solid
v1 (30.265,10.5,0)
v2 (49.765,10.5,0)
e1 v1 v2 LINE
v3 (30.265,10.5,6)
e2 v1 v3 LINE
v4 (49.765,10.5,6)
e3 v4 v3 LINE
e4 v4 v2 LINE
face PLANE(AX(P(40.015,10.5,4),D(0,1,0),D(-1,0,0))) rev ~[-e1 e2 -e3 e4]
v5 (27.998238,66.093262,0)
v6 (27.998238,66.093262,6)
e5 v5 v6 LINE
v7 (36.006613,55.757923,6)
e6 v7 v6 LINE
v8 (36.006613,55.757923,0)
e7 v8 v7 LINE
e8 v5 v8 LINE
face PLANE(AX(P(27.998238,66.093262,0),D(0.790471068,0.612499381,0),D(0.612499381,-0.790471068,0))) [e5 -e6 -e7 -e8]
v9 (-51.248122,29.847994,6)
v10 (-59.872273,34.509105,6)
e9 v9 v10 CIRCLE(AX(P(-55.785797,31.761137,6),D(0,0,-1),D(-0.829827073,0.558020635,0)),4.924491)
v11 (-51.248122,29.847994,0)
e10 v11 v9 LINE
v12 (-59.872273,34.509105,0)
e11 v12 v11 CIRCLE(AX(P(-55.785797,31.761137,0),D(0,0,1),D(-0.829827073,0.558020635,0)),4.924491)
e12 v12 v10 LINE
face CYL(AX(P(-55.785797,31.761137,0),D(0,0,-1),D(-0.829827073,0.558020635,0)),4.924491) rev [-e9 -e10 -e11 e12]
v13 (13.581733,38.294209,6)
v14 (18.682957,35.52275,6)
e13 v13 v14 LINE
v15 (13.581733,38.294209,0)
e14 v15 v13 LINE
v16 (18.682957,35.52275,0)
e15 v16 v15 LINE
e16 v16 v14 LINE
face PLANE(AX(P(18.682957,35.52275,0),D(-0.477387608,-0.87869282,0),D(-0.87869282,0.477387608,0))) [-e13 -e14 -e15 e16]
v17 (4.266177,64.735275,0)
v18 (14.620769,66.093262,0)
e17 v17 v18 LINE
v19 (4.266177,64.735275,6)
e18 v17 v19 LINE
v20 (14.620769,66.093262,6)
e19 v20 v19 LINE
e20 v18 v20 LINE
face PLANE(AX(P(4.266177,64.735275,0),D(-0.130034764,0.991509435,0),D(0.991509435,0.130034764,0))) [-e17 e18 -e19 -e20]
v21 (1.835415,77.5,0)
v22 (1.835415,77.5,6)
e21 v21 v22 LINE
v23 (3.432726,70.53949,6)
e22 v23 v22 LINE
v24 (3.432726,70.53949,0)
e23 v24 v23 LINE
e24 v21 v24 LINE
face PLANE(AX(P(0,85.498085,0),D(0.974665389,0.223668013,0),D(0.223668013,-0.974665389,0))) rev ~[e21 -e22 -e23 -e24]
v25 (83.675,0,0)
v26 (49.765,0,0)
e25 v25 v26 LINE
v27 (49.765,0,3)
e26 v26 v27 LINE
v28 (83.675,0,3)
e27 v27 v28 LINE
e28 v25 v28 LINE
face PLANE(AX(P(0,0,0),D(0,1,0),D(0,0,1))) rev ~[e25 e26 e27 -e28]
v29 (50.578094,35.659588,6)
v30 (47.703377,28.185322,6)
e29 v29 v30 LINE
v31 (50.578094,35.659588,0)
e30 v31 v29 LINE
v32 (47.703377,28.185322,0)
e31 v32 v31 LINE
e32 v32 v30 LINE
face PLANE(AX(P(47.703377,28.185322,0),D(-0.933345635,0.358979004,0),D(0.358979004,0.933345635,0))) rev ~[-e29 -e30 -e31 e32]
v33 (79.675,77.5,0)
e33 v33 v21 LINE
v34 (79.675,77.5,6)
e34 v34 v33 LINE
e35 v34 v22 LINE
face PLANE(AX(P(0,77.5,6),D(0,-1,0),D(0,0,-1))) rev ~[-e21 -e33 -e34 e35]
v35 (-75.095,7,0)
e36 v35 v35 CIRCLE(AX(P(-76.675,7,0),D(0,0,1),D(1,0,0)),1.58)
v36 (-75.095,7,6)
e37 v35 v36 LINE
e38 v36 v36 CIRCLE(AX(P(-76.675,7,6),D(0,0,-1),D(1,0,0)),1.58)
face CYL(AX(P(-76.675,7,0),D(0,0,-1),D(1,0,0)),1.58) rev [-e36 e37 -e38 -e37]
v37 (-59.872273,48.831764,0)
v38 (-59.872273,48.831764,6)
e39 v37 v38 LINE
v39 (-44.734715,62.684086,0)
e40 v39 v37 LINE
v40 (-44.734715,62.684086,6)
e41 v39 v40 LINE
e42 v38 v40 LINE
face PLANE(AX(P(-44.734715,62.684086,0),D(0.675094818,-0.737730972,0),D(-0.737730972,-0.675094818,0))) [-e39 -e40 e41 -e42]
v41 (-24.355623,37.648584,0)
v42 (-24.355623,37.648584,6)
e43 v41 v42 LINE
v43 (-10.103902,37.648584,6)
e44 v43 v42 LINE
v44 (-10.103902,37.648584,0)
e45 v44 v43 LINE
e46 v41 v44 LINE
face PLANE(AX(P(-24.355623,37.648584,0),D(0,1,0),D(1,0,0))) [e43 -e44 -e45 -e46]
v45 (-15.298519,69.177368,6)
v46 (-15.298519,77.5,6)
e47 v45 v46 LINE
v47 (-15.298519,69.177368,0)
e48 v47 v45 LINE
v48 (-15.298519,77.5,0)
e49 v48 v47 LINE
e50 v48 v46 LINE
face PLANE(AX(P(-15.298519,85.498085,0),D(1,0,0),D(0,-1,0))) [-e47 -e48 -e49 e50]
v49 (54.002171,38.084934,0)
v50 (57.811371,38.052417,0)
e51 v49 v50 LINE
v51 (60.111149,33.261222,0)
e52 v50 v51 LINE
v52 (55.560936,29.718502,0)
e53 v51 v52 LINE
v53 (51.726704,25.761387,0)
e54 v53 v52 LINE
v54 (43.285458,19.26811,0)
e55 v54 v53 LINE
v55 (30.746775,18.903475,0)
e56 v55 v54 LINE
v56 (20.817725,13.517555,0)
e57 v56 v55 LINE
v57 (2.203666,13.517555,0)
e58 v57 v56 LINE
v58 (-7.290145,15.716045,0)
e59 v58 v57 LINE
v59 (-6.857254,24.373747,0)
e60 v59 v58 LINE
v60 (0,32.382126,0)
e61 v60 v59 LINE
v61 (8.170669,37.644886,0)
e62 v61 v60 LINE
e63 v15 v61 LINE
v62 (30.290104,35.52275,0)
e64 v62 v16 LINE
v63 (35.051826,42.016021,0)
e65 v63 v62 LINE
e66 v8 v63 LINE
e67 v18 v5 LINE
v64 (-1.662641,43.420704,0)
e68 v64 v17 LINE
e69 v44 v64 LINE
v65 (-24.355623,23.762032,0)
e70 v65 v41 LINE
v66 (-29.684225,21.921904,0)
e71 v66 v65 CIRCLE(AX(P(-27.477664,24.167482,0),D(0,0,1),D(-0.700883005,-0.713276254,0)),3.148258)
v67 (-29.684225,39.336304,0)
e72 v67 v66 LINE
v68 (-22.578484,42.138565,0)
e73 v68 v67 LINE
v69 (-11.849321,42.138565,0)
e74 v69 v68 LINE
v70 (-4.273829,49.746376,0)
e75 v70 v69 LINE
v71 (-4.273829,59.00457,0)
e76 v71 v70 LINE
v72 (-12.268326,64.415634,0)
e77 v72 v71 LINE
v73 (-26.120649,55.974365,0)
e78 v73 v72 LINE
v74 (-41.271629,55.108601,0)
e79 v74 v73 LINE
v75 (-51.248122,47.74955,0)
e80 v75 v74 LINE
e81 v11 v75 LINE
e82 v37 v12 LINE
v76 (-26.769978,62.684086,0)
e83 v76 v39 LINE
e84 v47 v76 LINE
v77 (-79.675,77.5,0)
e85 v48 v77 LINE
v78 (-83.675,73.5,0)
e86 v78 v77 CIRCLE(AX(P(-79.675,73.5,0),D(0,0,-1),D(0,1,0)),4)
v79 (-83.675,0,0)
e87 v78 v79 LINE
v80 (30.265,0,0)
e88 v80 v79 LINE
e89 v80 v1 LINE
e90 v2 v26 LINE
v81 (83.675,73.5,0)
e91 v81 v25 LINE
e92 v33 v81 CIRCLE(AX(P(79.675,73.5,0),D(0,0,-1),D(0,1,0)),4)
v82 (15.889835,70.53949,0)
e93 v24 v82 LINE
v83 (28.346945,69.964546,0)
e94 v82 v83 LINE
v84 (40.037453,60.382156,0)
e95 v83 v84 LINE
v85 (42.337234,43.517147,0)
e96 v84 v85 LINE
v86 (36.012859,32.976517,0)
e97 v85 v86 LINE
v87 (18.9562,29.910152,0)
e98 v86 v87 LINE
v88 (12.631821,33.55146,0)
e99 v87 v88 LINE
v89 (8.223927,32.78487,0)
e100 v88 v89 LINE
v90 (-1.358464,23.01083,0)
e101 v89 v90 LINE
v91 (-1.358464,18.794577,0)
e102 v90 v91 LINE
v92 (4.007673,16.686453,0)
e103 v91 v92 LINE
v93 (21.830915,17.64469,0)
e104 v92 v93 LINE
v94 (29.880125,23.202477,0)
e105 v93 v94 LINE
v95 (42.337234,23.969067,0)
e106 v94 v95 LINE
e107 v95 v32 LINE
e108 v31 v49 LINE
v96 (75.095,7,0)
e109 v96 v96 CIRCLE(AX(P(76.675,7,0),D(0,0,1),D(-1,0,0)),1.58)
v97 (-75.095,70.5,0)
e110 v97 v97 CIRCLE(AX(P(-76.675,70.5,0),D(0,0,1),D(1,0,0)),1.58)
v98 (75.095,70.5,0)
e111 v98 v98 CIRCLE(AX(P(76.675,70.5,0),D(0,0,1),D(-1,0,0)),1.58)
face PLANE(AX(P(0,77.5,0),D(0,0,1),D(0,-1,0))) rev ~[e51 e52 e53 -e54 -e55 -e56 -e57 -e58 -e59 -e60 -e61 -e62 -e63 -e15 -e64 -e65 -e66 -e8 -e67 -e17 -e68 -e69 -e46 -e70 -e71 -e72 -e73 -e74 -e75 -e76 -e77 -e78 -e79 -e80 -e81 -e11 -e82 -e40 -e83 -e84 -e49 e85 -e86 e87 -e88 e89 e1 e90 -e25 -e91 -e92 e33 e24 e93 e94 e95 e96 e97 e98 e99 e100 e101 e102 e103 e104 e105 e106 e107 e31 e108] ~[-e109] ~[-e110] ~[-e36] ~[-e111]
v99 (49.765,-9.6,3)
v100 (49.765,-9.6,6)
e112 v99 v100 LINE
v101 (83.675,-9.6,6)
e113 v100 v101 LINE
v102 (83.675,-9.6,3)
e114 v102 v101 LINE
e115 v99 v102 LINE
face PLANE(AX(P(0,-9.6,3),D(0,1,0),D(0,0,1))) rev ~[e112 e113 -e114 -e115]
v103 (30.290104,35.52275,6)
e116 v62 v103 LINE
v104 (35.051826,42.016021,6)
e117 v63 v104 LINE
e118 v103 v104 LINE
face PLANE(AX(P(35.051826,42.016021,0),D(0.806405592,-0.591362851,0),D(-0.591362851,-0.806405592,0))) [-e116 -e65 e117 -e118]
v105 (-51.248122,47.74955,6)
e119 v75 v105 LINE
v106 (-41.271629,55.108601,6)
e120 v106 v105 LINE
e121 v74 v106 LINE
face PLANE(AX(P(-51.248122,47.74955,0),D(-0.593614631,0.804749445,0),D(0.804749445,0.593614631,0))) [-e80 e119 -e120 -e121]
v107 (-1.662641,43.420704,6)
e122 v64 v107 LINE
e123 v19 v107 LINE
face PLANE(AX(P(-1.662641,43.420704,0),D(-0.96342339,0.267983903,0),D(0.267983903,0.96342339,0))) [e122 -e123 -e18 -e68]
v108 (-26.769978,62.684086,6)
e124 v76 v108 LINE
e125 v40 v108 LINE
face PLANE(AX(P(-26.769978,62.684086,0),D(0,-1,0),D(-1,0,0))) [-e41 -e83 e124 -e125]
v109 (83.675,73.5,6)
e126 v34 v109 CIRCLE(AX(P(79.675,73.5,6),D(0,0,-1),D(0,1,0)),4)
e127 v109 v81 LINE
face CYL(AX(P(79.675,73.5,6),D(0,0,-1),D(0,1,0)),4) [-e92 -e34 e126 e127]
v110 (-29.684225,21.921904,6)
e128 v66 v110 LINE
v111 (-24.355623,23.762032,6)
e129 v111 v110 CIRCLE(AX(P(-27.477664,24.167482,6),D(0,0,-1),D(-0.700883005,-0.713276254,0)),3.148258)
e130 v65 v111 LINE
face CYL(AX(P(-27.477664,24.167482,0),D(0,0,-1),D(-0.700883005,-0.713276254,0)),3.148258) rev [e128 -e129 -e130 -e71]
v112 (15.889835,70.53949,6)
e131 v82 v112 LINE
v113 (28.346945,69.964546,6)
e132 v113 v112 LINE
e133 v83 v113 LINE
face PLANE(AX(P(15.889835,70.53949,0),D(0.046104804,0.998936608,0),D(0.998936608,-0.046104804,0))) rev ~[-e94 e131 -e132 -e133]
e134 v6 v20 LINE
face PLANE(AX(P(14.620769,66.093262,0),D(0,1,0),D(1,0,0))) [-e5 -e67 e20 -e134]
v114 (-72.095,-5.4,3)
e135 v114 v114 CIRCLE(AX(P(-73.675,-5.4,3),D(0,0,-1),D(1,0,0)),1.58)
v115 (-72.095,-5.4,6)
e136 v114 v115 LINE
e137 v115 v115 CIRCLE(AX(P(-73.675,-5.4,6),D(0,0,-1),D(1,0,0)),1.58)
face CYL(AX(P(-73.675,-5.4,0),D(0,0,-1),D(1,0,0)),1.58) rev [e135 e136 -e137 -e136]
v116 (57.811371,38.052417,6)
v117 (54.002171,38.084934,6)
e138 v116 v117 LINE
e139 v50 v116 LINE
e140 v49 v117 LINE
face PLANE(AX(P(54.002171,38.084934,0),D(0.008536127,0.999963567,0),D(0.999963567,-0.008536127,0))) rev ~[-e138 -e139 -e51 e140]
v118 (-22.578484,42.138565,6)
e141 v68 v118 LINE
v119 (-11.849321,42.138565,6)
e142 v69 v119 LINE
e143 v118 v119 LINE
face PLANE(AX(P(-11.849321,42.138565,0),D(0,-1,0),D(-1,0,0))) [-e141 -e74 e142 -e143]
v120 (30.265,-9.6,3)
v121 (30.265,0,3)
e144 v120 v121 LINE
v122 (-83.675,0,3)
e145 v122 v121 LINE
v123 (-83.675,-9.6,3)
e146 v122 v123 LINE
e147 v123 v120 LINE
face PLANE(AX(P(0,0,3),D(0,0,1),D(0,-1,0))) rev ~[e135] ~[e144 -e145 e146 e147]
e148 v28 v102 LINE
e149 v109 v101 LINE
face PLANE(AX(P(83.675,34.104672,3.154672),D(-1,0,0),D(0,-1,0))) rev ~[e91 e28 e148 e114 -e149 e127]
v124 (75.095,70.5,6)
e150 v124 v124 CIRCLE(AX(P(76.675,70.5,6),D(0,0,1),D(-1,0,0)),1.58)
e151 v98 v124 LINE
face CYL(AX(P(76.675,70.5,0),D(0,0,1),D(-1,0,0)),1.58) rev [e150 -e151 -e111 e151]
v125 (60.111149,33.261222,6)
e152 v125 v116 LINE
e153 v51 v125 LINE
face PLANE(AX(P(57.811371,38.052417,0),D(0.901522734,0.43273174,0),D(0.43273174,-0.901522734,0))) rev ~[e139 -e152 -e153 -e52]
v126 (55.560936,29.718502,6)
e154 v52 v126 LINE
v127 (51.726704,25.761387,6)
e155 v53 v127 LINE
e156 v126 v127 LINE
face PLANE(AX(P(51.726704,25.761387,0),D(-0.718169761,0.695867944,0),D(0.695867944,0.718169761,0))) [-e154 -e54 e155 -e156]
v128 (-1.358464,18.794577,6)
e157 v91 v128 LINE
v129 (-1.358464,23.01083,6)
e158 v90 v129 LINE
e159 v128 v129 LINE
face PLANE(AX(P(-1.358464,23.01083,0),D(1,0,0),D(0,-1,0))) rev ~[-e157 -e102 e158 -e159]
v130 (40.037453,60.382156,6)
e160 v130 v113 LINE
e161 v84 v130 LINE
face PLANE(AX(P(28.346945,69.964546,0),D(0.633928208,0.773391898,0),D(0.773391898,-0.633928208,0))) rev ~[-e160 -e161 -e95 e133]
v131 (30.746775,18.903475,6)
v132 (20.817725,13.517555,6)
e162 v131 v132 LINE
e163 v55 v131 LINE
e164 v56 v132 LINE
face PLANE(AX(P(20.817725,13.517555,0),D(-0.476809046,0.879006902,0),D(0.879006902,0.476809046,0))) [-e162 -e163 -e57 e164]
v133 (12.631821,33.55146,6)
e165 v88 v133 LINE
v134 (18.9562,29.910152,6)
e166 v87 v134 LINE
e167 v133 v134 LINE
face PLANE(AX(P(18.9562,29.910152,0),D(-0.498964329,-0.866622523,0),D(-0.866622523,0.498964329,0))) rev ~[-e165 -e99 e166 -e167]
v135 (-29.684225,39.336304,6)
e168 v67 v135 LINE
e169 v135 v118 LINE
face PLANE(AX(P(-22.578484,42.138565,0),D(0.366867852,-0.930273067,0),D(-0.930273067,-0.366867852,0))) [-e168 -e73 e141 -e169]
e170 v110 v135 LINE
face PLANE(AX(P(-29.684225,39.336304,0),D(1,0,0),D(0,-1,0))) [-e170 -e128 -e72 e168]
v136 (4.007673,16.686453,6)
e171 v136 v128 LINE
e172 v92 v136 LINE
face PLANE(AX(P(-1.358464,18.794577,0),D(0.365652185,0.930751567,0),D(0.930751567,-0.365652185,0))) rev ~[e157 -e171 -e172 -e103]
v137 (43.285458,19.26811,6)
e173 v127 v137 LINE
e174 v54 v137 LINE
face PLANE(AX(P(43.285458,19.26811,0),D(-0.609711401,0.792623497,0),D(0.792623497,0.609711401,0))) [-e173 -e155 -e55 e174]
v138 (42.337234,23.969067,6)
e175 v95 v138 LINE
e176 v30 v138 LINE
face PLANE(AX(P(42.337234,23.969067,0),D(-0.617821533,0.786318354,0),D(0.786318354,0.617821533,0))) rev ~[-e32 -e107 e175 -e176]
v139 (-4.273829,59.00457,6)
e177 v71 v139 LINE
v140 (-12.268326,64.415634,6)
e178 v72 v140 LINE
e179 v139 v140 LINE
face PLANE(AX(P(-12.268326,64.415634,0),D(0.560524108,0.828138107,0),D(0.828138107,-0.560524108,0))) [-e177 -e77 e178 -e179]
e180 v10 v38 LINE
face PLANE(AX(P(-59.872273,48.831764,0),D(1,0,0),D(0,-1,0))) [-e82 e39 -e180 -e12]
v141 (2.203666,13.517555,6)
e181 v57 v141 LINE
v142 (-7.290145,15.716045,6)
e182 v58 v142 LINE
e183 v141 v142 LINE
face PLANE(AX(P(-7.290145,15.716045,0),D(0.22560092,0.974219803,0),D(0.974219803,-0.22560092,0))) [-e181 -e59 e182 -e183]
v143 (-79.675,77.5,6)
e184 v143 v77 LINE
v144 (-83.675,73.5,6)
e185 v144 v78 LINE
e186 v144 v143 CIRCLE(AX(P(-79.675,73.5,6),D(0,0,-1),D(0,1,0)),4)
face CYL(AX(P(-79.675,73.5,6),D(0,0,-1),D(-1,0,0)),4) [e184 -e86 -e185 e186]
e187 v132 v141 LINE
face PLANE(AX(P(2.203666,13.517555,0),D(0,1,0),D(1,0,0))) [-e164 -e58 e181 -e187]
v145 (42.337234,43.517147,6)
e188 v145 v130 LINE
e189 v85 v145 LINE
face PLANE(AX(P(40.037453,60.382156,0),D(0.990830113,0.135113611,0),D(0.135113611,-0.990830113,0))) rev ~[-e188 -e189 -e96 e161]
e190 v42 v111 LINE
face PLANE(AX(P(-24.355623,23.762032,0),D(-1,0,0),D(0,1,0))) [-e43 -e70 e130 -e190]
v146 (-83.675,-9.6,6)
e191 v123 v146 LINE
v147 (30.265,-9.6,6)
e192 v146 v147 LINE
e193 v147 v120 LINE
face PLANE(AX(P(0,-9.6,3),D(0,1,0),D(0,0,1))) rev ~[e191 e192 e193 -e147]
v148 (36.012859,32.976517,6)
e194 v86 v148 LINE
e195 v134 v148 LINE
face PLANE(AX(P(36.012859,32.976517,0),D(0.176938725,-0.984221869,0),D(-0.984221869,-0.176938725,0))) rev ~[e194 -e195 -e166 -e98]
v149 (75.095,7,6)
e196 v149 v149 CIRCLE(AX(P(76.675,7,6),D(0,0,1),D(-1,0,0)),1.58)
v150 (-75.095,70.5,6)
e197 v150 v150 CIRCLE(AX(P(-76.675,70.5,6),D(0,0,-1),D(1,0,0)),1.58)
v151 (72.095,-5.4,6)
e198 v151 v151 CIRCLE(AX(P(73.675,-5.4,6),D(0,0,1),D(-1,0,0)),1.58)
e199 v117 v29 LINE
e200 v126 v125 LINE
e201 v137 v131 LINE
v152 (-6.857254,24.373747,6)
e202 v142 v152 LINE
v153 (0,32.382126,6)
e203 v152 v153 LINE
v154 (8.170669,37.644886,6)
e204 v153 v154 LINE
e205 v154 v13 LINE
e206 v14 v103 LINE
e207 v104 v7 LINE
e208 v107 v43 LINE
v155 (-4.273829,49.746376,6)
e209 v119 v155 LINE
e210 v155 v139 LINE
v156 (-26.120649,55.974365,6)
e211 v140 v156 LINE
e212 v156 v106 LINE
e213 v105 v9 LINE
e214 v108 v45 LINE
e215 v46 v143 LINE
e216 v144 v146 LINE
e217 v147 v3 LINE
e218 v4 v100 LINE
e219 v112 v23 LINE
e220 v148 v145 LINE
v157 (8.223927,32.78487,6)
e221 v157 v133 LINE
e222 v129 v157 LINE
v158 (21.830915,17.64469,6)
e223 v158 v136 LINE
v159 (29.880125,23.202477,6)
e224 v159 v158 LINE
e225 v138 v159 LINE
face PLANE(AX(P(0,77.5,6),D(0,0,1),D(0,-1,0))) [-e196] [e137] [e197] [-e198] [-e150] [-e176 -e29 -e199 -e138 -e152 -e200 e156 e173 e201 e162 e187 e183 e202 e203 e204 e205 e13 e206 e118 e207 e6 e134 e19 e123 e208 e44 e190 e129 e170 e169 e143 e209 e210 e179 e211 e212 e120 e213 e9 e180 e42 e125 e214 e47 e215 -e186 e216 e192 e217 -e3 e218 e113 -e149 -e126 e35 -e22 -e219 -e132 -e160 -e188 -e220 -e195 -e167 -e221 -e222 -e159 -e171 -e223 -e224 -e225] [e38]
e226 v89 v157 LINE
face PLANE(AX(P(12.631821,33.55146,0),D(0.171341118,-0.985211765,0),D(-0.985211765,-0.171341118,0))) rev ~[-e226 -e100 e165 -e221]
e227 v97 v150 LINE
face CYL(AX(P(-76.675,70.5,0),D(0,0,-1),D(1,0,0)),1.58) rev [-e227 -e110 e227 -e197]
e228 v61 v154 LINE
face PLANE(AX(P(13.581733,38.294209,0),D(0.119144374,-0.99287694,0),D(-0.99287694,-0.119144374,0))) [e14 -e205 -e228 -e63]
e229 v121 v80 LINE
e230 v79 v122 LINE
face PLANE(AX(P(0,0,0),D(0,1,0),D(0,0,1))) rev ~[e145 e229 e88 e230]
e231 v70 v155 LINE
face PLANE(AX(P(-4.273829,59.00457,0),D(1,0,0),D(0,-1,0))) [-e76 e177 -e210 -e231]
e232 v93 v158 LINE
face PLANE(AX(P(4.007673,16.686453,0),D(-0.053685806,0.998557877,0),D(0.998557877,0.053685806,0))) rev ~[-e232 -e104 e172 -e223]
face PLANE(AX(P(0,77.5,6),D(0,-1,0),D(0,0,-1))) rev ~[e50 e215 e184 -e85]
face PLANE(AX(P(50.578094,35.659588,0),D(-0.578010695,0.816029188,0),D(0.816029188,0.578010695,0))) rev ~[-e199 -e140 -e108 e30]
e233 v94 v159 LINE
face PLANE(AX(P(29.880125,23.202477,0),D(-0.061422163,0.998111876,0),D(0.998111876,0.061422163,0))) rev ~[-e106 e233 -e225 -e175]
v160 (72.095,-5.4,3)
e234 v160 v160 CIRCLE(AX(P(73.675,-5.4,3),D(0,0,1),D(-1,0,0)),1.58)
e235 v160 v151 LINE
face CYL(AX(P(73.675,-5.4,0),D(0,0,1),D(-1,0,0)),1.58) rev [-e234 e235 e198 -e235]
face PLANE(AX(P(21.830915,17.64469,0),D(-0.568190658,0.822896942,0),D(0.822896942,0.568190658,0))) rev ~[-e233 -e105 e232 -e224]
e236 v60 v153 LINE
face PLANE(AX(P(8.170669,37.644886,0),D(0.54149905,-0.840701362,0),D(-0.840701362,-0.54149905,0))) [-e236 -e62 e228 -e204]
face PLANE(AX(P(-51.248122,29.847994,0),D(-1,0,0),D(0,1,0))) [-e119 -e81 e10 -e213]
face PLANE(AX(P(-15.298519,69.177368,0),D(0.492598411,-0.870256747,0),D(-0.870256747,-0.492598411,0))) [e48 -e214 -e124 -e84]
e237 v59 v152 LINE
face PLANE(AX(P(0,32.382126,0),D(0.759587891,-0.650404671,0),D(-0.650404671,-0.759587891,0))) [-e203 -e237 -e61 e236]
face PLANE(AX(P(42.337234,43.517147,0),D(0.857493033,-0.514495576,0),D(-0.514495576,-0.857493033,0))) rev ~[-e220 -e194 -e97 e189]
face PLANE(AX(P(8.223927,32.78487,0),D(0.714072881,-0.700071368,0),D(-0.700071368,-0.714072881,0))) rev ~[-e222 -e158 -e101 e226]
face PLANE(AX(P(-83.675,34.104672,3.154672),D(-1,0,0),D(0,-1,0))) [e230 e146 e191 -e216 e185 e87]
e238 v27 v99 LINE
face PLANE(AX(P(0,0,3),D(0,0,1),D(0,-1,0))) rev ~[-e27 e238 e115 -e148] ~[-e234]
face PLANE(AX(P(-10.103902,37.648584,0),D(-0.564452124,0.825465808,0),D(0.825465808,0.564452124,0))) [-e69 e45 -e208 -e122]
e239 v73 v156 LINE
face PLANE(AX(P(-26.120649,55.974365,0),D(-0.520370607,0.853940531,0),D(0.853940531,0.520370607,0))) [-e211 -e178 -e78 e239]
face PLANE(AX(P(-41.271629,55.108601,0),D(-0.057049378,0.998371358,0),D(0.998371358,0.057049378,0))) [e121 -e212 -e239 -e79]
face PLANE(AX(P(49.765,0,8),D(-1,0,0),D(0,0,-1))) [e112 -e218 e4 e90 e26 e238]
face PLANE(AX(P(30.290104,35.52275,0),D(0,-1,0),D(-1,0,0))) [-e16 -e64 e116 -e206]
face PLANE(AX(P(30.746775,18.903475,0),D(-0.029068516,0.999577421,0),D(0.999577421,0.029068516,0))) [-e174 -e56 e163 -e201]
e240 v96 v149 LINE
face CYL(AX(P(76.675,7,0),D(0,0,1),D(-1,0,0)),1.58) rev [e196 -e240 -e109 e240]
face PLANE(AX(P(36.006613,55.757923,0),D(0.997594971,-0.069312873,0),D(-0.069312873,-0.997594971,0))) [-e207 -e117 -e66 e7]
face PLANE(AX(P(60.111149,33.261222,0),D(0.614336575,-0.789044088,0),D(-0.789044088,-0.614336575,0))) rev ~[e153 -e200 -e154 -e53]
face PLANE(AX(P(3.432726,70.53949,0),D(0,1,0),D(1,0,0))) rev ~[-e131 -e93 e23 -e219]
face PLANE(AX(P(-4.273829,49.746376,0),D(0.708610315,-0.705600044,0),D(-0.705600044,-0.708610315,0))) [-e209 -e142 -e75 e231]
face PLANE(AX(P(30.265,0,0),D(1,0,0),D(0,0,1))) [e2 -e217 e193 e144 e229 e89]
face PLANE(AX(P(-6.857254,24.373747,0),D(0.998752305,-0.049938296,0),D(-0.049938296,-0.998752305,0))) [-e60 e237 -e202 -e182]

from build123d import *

# Parameters (mm, degrees)
PAD_DEPTH            = 83.675
SKETCH001_R          = 1.58
POCKET_DEPTH         = 377.510907
POCKET_DEPTH_BACK    = 383.510907
SKETCH002_R          = 1.58
POCKET001_DEPTH      = 377.510907
POCKET001_DEPTH_BACK = 383.510907
FILLET_R             = 4
POCKET002_DEPTH      = 0.001
POCKET002_DEPTH_BACK = 6.001
POCKET003_DEPTH      = 10.5


with BuildPart() as part:
    # Sketch → Pad (new body, symmetric)
    with BuildSketch(Plane.YZ):
        Polygon((0, 6), (77.5, 6), (77.5, 0), (0, 0), (0, 3), (-9.6, 3), (-9.6, 6), align=None)
    extrude(amount=PAD_DEPTH, both=True)

    # Sketch001 → Pocket (cut, two sides)
    with BuildSketch(Plane.XY) as pocket_sk:
        with Locations((-73.675, -5.4)):
            Circle(SKETCH001_R)
    pocket = extrude(amount=-POCKET_DEPTH, mode=Mode.SUBTRACT) + extrude(pocket_sk.sketch, amount=POCKET_DEPTH_BACK, mode=Mode.SUBTRACT)

    # Mirrored: Pocket across Sketch001 V_Axis
    add(pocket.mirror(Plane(origin=(0, 0, 0), x_dir=(0, 0, 1), z_dir=(1, 0, 0))), mode=Mode.SUBTRACT)

    # Sketch002 → Pocket001 (cut, two sides)
    with BuildSketch(Plane.XY) as pocket001_sk:
        with Locations((-76.675, 7)):
            Circle(SKETCH002_R)
        with Locations((-76.675, 70.5)):
            Circle(SKETCH002_R)
    pocket001 = extrude(amount=-POCKET001_DEPTH, mode=Mode.SUBTRACT) + extrude(pocket001_sk.sketch, amount=POCKET001_DEPTH_BACK, mode=Mode.SUBTRACT)

    # Mirrored001: Pocket001 across Sketch002 V_Axis
    add(pocket001.mirror(Plane(origin=(0, 0, 0), x_dir=(0, 0, 1), z_dir=(1, 0, 0))), mode=Mode.SUBTRACT)

    # Fillet
    fillet_edges = [part.edges().sort_by_distance(p)[0] for p in [
        (-83.675, 77.5, 3),
        (83.675, 77.5, 3),
    ]]
    fillet(fillet_edges, radius=FILLET_R)

    # Sketch003 → Pocket002 (cut, two sides)
    with BuildSketch(Plane.XY) as pocket002_sk:
        with BuildLine():
            Line((0, 85.498085), (-15.298519, 85.498085))
            Line((-15.298519, 85.498085), (-15.298519, 69.177368))
            Line((-15.298519, 69.177368), (-26.769978, 62.684086))
            Line((-26.769978, 62.684086), (-44.734715, 62.684086))
            Line((-44.734715, 62.684086), (-59.872273, 48.831764))
            Line((-59.872273, 48.831764), (-59.872273, 34.509105))
            ThreePointArc((-59.872273, 34.509105), (-58.127246, 27.428906), (-51.248122, 29.847994))
            Line((-51.248122, 29.847994), (-51.248122, 47.74955))
            Line((-51.248122, 47.74955), (-41.271629, 55.108601))
            Line((-41.271629, 55.108601), (-26.120649, 55.974365))
            Line((-26.120649, 55.974365), (-12.268326, 64.415634))
            Line((-12.268326, 64.415634), (-4.273829, 59.00457))
            Line((-4.273829, 59.00457), (-4.273829, 49.746376))
            Line((-4.273829, 49.746376), (-11.849321, 42.138565))
            Line((-11.849321, 42.138565), (-22.578484, 42.138565))
            Line((-22.578484, 42.138565), (-29.684225, 39.336304))
            Line((-29.684225, 39.336304), (-29.684225, 21.921904))
            ThreePointArc((-29.684225, 21.921904), (-26.450024, 21.191665), (-24.355623, 23.762032))
            Line((-24.355623, 23.762032), (-24.355623, 37.648584))
            Line((-24.355623, 37.648584), (-10.103902, 37.648584))
            Line((-10.103902, 37.648584), (-1.662641, 43.420704))
            Line((-1.662641, 43.420704), (4.266177, 64.735275))
            Line((4.266177, 64.735275), (14.620769, 66.093262))
            Line((14.620769, 66.093262), (27.998238, 66.093262))
            Line((27.998238, 66.093262), (36.006613, 55.757923))
            Line((36.006613, 55.757923), (35.051826, 42.016021))
            Line((35.051826, 42.016021), (30.290104, 35.52275))
            Line((30.290104, 35.52275), (18.682957, 35.52275))
            Line((18.682957, 35.52275), (13.581733, 38.294209))
            Line((13.581733, 38.294209), (8.170669, 37.644886))
            Line((8.170669, 37.644886), (0, 32.382126))
            Line((0, 32.382126), (-6.857254, 24.373747))
            Line((-6.857254, 24.373747), (-7.290145, 15.716045))
            Line((-7.290145, 15.716045), (2.203666, 13.517555))
            Line((2.203666, 13.517555), (20.817725, 13.517555))
            Line((20.817725, 13.517555), (30.746775, 18.903475))
            Line((30.746775, 18.903475), (43.285458, 19.26811))
            Line((43.285458, 19.26811), (51.726704, 25.761387))
            Line((51.726704, 25.761387), (55.560936, 29.718502))
            Line((60.111149, 33.261222), (55.560936, 29.718502))
            Line((57.811371, 38.052417), (60.111149, 33.261222))
            Line((54.002171, 38.084934), (57.811371, 38.052417))
            Line((50.578094, 35.659588), (54.002171, 38.084934))
            Line((47.703377, 28.185322), (50.578094, 35.659588))
            Line((42.337234, 23.969067), (47.703377, 28.185322))
            Line((29.880125, 23.202477), (42.337234, 23.969067))
            Line((21.830915, 17.64469), (29.880125, 23.202477))
            Line((4.007673, 16.686453), (21.830915, 17.64469))
            Line((-1.358464, 18.794577), (4.007673, 16.686453))
            Line((-1.358464, 23.01083), (-1.358464, 18.794577))
            Line((8.223927, 32.78487), (-1.358464, 23.01083))
            Line((12.631821, 33.55146), (8.223927, 32.78487))
            Line((18.9562, 29.910152), (12.631821, 33.55146))
            Line((36.012859, 32.976517), (18.9562, 29.910152))
            Line((42.337234, 43.517147), (36.012859, 32.976517))
            Line((40.037453, 60.382156), (42.337234, 43.517147))
            Line((28.346945, 69.964546), (40.037453, 60.382156))
            Line((15.889835, 70.53949), (28.346945, 69.964546))
            Line((3.432726, 70.53949), (15.889835, 70.53949))
            Line((0, 85.498085), (3.432726, 70.53949))
        make_face()
    extrude(amount=-POCKET002_DEPTH, mode=Mode.SUBTRACT)
    extrude(pocket002_sk.sketch, amount=POCKET002_DEPTH_BACK, mode=Mode.SUBTRACT)

    # Sketch004 → Pocket003 (cut, symmetric)
    with BuildSketch(Plane.XZ):
        Polygon((40.015, 0), (30.265, 0), (30.265, 8), (40.015, 8), (49.765, 8), (49.765, 0), align=None)
    extrude(amount=POCKET003_DEPTH, both=True, mode=Mode.SUBTRACT)


solid = part.part
